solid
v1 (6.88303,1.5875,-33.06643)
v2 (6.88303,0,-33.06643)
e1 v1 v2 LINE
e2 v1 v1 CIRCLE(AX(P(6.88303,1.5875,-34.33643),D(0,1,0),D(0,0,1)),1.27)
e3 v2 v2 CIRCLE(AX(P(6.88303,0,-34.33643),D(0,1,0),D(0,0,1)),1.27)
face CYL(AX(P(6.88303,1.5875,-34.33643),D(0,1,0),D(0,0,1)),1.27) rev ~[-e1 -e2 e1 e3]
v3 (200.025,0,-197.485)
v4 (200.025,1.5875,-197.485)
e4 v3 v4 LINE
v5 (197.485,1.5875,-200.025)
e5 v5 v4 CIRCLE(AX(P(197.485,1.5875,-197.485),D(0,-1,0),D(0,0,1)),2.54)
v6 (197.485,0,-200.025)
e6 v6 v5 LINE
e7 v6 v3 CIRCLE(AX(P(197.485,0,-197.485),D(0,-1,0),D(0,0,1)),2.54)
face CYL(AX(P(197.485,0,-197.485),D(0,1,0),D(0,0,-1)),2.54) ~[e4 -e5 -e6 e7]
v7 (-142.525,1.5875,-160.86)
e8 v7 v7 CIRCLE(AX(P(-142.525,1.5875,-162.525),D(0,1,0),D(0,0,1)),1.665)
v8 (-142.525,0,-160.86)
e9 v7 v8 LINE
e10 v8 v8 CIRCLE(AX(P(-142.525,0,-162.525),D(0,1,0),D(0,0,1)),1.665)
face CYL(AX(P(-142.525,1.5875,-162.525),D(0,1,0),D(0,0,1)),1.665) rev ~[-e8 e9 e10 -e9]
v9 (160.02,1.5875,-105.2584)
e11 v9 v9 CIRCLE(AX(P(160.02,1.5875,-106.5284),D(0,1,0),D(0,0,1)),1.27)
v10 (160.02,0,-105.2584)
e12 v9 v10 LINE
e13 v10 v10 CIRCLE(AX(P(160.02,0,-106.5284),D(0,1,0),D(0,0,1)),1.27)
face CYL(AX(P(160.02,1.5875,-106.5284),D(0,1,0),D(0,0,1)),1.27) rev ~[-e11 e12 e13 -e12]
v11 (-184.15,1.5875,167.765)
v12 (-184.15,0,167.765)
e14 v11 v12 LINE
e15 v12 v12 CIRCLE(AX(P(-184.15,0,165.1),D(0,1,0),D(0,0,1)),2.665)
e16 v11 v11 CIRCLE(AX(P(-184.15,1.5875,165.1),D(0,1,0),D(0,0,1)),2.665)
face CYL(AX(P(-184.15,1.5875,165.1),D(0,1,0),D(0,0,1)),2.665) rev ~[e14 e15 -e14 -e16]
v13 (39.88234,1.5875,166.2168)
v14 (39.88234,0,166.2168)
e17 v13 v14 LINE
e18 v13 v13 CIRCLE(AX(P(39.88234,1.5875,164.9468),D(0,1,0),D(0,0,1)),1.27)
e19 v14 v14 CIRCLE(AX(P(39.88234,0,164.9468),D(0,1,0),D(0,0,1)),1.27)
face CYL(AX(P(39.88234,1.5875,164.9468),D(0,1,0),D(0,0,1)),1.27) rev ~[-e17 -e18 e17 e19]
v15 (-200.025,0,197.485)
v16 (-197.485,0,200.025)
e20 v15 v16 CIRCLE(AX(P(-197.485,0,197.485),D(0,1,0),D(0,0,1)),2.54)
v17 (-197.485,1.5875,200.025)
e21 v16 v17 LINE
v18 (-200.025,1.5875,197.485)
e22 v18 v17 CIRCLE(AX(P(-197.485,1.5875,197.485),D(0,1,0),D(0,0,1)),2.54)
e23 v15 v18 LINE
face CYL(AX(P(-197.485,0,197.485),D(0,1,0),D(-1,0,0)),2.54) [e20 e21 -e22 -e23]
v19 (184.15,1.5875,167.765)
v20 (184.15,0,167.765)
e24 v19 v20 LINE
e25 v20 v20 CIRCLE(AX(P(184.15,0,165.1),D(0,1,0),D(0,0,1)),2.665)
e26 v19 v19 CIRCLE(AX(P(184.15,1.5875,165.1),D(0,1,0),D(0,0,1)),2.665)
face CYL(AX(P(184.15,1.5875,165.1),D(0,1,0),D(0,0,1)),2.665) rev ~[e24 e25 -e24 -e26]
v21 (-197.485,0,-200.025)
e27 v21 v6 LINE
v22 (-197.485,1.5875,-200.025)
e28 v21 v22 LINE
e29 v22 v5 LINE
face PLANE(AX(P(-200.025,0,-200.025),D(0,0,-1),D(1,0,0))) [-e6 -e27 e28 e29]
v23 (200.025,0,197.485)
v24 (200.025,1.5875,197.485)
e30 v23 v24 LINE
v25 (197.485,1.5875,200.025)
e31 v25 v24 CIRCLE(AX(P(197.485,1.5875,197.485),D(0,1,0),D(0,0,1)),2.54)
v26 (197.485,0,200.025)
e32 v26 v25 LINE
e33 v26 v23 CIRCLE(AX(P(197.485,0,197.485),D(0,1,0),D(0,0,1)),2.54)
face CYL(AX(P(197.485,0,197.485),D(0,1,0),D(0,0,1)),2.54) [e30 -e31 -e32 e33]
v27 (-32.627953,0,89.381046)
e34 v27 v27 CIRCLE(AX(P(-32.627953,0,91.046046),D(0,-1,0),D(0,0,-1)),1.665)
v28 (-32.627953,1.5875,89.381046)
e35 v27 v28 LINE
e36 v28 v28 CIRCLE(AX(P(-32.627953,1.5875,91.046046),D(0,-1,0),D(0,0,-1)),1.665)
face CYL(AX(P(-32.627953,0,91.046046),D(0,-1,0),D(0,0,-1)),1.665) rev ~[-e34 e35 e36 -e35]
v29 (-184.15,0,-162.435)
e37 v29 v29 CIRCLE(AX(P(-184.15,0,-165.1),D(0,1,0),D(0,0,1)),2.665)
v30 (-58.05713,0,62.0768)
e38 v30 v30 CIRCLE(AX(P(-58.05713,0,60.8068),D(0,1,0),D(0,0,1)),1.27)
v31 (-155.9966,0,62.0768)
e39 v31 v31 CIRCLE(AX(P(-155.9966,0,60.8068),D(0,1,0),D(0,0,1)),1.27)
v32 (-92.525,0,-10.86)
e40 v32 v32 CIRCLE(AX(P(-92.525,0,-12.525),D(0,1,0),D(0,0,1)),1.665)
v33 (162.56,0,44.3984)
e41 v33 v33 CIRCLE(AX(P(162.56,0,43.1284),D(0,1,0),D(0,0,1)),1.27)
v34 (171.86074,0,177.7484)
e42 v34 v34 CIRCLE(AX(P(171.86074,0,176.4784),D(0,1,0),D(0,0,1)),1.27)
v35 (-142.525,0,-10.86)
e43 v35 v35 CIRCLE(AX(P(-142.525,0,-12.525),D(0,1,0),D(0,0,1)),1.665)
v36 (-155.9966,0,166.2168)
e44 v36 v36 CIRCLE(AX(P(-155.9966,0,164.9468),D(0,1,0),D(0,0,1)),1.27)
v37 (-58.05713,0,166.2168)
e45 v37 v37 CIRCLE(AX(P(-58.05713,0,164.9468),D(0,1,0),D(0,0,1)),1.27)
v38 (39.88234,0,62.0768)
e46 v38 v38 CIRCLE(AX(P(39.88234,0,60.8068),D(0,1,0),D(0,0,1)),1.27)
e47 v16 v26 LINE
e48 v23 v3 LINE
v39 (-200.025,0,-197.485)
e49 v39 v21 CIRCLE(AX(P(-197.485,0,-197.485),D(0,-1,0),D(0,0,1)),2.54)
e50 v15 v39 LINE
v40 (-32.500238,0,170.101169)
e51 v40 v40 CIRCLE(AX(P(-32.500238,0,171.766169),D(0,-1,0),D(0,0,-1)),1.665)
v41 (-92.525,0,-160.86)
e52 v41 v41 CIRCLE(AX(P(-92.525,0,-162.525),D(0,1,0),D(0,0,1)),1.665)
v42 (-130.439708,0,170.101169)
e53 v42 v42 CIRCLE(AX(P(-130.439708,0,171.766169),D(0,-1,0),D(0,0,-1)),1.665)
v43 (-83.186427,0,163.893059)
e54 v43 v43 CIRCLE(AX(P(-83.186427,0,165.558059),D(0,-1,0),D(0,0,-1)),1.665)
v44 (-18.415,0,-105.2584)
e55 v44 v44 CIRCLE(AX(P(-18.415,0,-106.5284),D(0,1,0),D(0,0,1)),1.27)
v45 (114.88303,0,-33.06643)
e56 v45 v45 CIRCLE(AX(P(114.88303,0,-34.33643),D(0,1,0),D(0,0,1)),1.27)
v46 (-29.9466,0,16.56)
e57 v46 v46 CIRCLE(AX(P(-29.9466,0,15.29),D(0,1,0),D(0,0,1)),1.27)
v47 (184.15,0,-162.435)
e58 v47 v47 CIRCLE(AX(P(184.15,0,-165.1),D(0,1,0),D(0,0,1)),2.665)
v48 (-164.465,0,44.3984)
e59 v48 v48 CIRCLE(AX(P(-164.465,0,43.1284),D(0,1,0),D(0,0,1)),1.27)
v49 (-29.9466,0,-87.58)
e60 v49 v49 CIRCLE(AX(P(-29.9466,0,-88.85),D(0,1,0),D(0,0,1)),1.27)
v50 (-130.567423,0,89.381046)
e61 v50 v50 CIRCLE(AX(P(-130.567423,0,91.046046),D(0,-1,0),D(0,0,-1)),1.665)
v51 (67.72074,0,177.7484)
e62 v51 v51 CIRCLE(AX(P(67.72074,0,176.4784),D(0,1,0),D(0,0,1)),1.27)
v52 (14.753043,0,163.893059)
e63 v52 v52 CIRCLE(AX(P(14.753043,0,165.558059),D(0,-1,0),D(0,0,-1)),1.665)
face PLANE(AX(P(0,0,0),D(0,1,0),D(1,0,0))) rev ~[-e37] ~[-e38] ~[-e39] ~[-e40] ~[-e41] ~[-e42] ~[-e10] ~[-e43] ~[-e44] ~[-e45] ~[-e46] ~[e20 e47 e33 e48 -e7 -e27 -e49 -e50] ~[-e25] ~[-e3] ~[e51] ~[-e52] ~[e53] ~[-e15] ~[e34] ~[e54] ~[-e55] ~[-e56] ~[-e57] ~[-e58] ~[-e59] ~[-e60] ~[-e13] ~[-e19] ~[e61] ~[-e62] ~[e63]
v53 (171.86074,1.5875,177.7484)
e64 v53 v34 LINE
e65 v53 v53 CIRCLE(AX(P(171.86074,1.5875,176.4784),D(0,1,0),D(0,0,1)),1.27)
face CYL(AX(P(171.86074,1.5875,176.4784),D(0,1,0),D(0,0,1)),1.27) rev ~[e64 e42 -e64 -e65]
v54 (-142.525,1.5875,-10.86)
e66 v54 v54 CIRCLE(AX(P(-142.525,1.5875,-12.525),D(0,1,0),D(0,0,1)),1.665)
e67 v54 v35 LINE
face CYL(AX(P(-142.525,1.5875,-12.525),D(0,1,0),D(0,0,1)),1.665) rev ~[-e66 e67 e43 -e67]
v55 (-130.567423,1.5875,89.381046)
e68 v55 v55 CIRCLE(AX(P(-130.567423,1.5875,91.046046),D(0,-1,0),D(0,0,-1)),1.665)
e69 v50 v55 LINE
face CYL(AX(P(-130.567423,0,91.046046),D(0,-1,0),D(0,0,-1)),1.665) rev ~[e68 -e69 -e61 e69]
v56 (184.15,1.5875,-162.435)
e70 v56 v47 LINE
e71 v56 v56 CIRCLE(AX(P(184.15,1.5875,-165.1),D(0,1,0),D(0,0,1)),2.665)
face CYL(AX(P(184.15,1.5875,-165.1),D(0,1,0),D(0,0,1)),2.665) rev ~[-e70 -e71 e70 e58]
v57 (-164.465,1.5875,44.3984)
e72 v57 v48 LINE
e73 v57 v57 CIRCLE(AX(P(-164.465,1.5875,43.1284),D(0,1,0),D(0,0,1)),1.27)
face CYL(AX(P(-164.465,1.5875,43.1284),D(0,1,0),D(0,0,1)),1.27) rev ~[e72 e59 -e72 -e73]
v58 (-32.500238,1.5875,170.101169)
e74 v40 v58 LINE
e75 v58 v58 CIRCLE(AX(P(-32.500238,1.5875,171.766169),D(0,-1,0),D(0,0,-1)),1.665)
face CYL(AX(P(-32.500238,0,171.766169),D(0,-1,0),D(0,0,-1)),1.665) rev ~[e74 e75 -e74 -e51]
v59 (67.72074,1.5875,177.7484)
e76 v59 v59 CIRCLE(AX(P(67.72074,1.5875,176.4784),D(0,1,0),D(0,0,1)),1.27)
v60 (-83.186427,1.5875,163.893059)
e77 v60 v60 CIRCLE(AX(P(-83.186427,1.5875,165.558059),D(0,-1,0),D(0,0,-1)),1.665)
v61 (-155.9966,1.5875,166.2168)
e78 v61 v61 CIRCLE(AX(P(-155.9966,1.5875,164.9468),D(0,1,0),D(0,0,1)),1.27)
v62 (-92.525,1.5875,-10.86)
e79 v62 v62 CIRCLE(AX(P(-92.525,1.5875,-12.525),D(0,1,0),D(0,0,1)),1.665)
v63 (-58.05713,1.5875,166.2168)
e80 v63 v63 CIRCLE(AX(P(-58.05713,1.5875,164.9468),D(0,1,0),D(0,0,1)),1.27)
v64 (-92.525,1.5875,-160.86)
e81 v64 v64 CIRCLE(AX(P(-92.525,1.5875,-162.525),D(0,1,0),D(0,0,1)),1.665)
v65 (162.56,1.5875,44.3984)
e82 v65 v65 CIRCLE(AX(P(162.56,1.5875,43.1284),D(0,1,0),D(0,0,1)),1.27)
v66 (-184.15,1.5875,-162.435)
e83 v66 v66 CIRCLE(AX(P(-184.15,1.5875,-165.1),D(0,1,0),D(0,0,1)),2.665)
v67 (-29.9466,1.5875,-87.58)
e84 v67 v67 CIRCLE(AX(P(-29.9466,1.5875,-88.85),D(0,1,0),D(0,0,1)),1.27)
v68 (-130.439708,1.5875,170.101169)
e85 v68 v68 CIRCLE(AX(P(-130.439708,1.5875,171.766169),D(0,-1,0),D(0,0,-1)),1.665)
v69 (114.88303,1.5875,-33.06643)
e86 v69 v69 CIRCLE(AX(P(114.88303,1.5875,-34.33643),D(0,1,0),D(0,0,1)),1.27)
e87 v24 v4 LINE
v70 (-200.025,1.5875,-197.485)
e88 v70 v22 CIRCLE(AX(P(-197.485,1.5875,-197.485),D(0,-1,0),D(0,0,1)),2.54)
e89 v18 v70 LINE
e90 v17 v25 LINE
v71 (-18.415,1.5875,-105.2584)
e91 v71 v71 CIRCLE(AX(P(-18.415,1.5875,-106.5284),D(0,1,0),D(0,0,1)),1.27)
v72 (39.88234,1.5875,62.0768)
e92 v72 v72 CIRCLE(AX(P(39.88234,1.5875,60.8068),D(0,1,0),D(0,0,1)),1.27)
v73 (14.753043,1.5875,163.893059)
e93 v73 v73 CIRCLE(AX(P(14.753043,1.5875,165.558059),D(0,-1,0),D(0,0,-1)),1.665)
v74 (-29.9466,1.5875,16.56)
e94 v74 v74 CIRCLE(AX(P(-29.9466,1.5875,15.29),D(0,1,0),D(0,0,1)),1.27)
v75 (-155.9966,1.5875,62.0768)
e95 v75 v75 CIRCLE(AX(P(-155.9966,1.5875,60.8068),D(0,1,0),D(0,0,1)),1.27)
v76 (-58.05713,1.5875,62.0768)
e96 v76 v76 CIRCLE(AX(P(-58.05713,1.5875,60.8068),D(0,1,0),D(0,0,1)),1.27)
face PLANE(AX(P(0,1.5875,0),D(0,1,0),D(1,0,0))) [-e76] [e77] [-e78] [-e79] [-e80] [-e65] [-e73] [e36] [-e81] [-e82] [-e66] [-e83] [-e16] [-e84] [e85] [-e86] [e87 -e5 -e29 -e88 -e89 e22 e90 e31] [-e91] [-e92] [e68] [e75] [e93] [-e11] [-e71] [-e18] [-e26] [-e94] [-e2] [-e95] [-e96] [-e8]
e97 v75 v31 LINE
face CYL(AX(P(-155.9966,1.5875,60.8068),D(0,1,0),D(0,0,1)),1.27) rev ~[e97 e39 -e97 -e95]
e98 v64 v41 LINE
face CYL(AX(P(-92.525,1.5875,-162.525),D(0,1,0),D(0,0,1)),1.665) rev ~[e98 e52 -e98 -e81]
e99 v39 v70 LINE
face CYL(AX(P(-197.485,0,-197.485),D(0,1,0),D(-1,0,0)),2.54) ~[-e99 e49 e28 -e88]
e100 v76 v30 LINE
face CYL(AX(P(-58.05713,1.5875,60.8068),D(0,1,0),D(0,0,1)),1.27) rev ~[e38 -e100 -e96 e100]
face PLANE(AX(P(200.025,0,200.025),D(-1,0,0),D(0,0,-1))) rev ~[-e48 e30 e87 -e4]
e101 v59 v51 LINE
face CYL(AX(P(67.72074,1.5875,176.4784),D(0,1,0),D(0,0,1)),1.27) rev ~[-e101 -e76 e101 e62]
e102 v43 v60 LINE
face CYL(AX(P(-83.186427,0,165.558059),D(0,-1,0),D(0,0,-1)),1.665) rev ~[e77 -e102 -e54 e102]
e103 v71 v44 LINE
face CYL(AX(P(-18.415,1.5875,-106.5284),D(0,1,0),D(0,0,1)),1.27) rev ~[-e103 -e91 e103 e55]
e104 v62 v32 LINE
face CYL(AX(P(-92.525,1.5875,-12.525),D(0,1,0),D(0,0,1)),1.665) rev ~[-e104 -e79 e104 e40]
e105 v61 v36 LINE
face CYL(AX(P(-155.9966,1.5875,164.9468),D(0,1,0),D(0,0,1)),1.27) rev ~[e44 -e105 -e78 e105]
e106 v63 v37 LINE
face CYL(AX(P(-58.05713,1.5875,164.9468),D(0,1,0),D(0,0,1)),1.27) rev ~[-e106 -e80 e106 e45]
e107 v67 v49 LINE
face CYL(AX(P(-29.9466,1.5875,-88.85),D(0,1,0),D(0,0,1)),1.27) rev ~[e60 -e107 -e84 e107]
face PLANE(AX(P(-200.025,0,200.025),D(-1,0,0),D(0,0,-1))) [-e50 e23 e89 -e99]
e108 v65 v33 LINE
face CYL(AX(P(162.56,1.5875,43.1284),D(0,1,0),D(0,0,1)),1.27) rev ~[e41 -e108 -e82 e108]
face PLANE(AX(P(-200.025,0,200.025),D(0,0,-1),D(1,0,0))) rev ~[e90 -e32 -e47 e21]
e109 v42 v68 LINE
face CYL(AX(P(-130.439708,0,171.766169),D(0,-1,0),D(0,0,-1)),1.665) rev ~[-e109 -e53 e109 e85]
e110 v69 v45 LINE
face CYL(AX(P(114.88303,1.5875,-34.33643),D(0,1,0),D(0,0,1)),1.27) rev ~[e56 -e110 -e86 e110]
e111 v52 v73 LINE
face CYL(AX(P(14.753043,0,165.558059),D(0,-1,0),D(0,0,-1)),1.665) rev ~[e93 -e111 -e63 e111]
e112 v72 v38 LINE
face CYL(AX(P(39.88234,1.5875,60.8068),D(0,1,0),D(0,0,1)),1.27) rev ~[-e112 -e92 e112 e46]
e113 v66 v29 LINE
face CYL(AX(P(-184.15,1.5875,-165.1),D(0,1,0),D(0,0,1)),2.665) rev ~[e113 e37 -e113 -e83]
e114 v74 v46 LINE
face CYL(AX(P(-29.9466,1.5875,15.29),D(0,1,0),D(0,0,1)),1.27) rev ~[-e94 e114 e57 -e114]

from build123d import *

# Parameters (mm, degrees)
SKETCH1_W           = 400.05
SKETCH1_H           = 400.05
BOSS_EXTRUDE1_DEPTH = 1.5875
CUT_EXTRUDE1_REACH  = 284.883
SKETCH2_R           = 2.665
FILLET1_R           = 2.54
CUT_EXTRUDE2_REACH  = 284.883
SKETCH3_R           = 1.665
CUT_EXTRUDE3_REACH  = 284.883
SKETCH4_R           = 1.665
CUT_EXTRUDE4_REACH  = 284.883
SKETCH5_R           = 1.27


with BuildPart() as part:
    # Sketch1 → Boss-Extrude1 (new body)
    with BuildSketch(Plane(origin=(0, 0, 0), x_dir=(1, 0, 0), z_dir=(0, 1, 0))):
        Rectangle(SKETCH1_W, SKETCH1_H)
    extrude(amount=BOSS_EXTRUDE1_DEPTH)

    # Sketch2 → Cut-Extrude1 (cut, up to next)
    with BuildSketch(Plane(origin=(0, 1.5875, 0), x_dir=(1, 0, 0), z_dir=(0, 1, 0)), mode=Mode.PRIVATE) as cut_extrude1_sk1:
        with Locations(Location((-184.15, -165.1, 0), (0, 0, 270))):
            Circle(SKETCH2_R)
    cut_extrude1_tool1 = extrude(cut_extrude1_sk1.sketch, amount=-CUT_EXTRUDE1_REACH, mode=Mode.PRIVATE) & part.part
    # Sketch2 → Cut-Extrude1 (cut, up to next)
    with BuildSketch(Plane(origin=(0, 1.5875, 0), x_dir=(1, 0, 0), z_dir=(0, 1, 0)), mode=Mode.PRIVATE) as cut_extrude1_sk2:
        with Locations(Location((184.15, -165.1, 0), (0, 0, 270))):
            Circle(SKETCH2_R)
    cut_extrude1_tool2 = extrude(cut_extrude1_sk2.sketch, amount=-CUT_EXTRUDE1_REACH, mode=Mode.PRIVATE) & part.part
    # Sketch2 → Cut-Extrude1 (cut, up to next)
    with BuildSketch(Plane(origin=(0, 1.5875, 0), x_dir=(1, 0, 0), z_dir=(0, 1, 0)), mode=Mode.PRIVATE) as cut_extrude1_sk3:
        with Locations(Location((184.15, 165.1, 0), (0, 0, 270))):
            Circle(SKETCH2_R)
    cut_extrude1_tool3 = extrude(cut_extrude1_sk3.sketch, amount=-CUT_EXTRUDE1_REACH, mode=Mode.PRIVATE) & part.part
    # Sketch2 → Cut-Extrude1 (cut, up to next)
    with BuildSketch(Plane(origin=(0, 1.5875, 0), x_dir=(1, 0, 0), z_dir=(0, 1, 0)), mode=Mode.PRIVATE) as cut_extrude1_sk4:
        with Locations(Location((-184.15, 165.1, 0), (0, 0, 270))):
            Circle(SKETCH2_R)
    cut_extrude1_tool4 = extrude(cut_extrude1_sk4.sketch, amount=-CUT_EXTRUDE1_REACH, mode=Mode.PRIVATE) & part.part
    add(cut_extrude1_tool1.solids().sort_by_distance((-184.15, 1.5875, 165.1))[0], mode=Mode.SUBTRACT)
    add(cut_extrude1_tool2.solids().sort_by_distance((184.15, 1.5875, 165.1))[0], mode=Mode.SUBTRACT)
    add(cut_extrude1_tool3.solids().sort_by_distance((184.15, 1.5875, -165.1))[0], mode=Mode.SUBTRACT)
    add(cut_extrude1_tool4.solids().sort_by_distance((-184.15, 1.5875, -165.1))[0], mode=Mode.SUBTRACT)

    # Fillet1
    fillet1_edges = [part.edges().sort_by_distance(p)[0] for p in [
        (200.025, 0.79375, 200.025),
        (-200.025, 0.79375, 200.025),
        (-200.025, 0.79375, -200.025),
        (200.025, 0.79375, -200.025),
    ]]
    fillet(fillet1_edges, radius=FILLET1_R)

    # Sketch3 → Cut-Extrude2 (cut, up to next)
    with BuildSketch(Plane.XZ, mode=Mode.PRIVATE) as cut_extrude2_sk1:
        with Locations(Location((-130.439708106, 171.766169153, 0), (0, 0, 270))):
            Circle(SKETCH3_R)
    cut_extrude2_tool1 = extrude(cut_extrude2_sk1.sketch, amount=-CUT_EXTRUDE2_REACH, mode=Mode.PRIVATE) & part.part
    # Sketch3 → Cut-Extrude2 (cut, up to next)
    with BuildSketch(Plane.XZ, mode=Mode.PRIVATE) as cut_extrude2_sk2:
        with Locations(Location((-83.186426808, 165.558058797, 0), (0, 0, 270))):
            Circle(SKETCH3_R)
    cut_extrude2_tool2 = extrude(cut_extrude2_sk2.sketch, amount=-CUT_EXTRUDE2_REACH, mode=Mode.PRIVATE) & part.part
    # Sketch3 → Cut-Extrude2 (cut, up to next)
    with BuildSketch(Plane.XZ, mode=Mode.PRIVATE) as cut_extrude2_sk3:
        with Locations(Location((-130.567422903, 91.046045503, 0), (0, 0, 270))):
            Circle(SKETCH3_R)
    cut_extrude2_tool3 = extrude(cut_extrude2_sk3.sketch, amount=-CUT_EXTRUDE2_REACH, mode=Mode.PRIVATE) & part.part
    # Sketch3 → Cut-Extrude2 (cut, up to next)
    with BuildSketch(Plane.XZ, mode=Mode.PRIVATE) as cut_extrude2_sk4:
        with Locations(Location((-32.50023816, 171.766169153, 0), (0, 0, 270))):
            Circle(SKETCH3_R)
    cut_extrude2_tool4 = extrude(cut_extrude2_sk4.sketch, amount=-CUT_EXTRUDE2_REACH, mode=Mode.PRIVATE) & part.part
    # Sketch3 → Cut-Extrude2 (cut, up to next)
    with BuildSketch(Plane.XZ, mode=Mode.PRIVATE) as cut_extrude2_sk5:
        with Locations(Location((14.753043138, 165.558058797, 0), (0, 0, 270))):
            Circle(SKETCH3_R)
    cut_extrude2_tool5 = extrude(cut_extrude2_sk5.sketch, amount=-CUT_EXTRUDE2_REACH, mode=Mode.PRIVATE) & part.part
    # Sketch3 → Cut-Extrude2 (cut, up to next)
    with BuildSketch(Plane.XZ, mode=Mode.PRIVATE) as cut_extrude2_sk6:
        with Locations(Location((-32.627952956, 91.046045503, 0), (0, 0, 270))):
            Circle(SKETCH3_R)
    cut_extrude2_tool6 = extrude(cut_extrude2_sk6.sketch, amount=-CUT_EXTRUDE2_REACH, mode=Mode.PRIVATE) & part.part
    add(cut_extrude2_tool1.solids().sort_by_distance((-130.439708, 0, 171.766169))[0], mode=Mode.SUBTRACT)
    add(cut_extrude2_tool2.solids().sort_by_distance((-83.186427, 0, 165.558059))[0], mode=Mode.SUBTRACT)
    add(cut_extrude2_tool3.solids().sort_by_distance((-130.567423, 0, 91.046046))[0], mode=Mode.SUBTRACT)
    add(cut_extrude2_tool4.solids().sort_by_distance((-32.500238, 0, 171.766169))[0], mode=Mode.SUBTRACT)
    add(cut_extrude2_tool5.solids().sort_by_distance((14.753043, 0, 165.558059))[0], mode=Mode.SUBTRACT)
    add(cut_extrude2_tool6.solids().sort_by_distance((-32.627953, 0, 91.046046))[0], mode=Mode.SUBTRACT)

    # Sketch4 → Cut-Extrude3 (cut, up to next)
    with BuildSketch(Plane(origin=(0, 1.5875, 0), x_dir=(1, 0, 0), z_dir=(0, 1, 0)), mode=Mode.PRIVATE) as cut_extrude3_sk1:
        with Locations(Location((-142.525, 162.525, 0), (0, 0, 270))):
            Circle(SKETCH4_R)
    cut_extrude3_tool1 = extrude(cut_extrude3_sk1.sketch, amount=-CUT_EXTRUDE3_REACH, mode=Mode.PRIVATE) & part.part
    # Sketch4 → Cut-Extrude3 (cut, up to next)
    with BuildSketch(Plane(origin=(0, 1.5875, 0), x_dir=(1, 0, 0), z_dir=(0, 1, 0)), mode=Mode.PRIVATE) as cut_extrude3_sk2:
        with Locations(Location((-92.525, 162.525, 0), (0, 0, 270))):
            Circle(SKETCH4_R)
    cut_extrude3_tool2 = extrude(cut_extrude3_sk2.sketch, amount=-CUT_EXTRUDE3_REACH, mode=Mode.PRIVATE) & part.part
    # Sketch4 → Cut-Extrude3 (cut, up to next)
    with BuildSketch(Plane(origin=(0, 1.5875, 0), x_dir=(1, 0, 0), z_dir=(0, 1, 0)), mode=Mode.PRIVATE) as cut_extrude3_sk3:
        with Locations(Location((-92.525, 12.525, 0), (0, 0, 270))):
            Circle(SKETCH4_R)
    cut_extrude3_tool3 = extrude(cut_extrude3_sk3.sketch, amount=-CUT_EXTRUDE3_REACH, mode=Mode.PRIVATE) & part.part
    # Sketch4 → Cut-Extrude3 (cut, up to next)
    with BuildSketch(Plane(origin=(0, 1.5875, 0), x_dir=(1, 0, 0), z_dir=(0, 1, 0)), mode=Mode.PRIVATE) as cut_extrude3_sk4:
        with Locations(Location((-142.525, 12.525, 0), (0, 0, 270))):
            Circle(SKETCH4_R)
    cut_extrude3_tool4 = extrude(cut_extrude3_sk4.sketch, amount=-CUT_EXTRUDE3_REACH, mode=Mode.PRIVATE) & part.part
    add(cut_extrude3_tool1.solids().sort_by_distance((-142.525, 1.5875, -162.525))[0], mode=Mode.SUBTRACT)
    add(cut_extrude3_tool2.solids().sort_by_distance((-92.525, 1.5875, -162.525))[0], mode=Mode.SUBTRACT)
    add(cut_extrude3_tool3.solids().sort_by_distance((-92.525, 1.5875, -12.525))[0], mode=Mode.SUBTRACT)
    add(cut_extrude3_tool4.solids().sort_by_distance((-142.525, 1.5875, -12.525))[0], mode=Mode.SUBTRACT)

    # Sketch5 → Cut-Extrude4 (cut, up to next)
    with BuildSketch(Plane(origin=(0, 1.5875, 0), x_dir=(1, 0, 0), z_dir=(0, 1, 0)), mode=Mode.PRIVATE) as cut_extrude4_sk1:
        with Locations(Location((114.883029897, 34.336429963, 0), (0, 0, 270))):
            Circle(SKETCH5_R)
    cut_extrude4_tool1 = extrude(cut_extrude4_sk1.sketch, amount=-CUT_EXTRUDE4_REACH, mode=Mode.PRIVATE) & part.part
    # Sketch5 → Cut-Extrude4 (cut, up to next)
    with BuildSketch(Plane(origin=(0, 1.5875, 0), x_dir=(1, 0, 0), z_dir=(0, 1, 0)), mode=Mode.PRIVATE) as cut_extrude4_sk2:
        with Locations(Location((160.02, 106.5284, 0), (0, 0, 270))):
            Circle(SKETCH5_R)
    cut_extrude4_tool2 = extrude(cut_extrude4_sk2.sketch, amount=-CUT_EXTRUDE4_REACH, mode=Mode.PRIVATE) & part.part
    # Sketch5 → Cut-Extrude4 (cut, up to next)
    with BuildSketch(Plane(origin=(0, 1.5875, 0), x_dir=(1, 0, 0), z_dir=(0, 1, 0)), mode=Mode.PRIVATE) as cut_extrude4_sk3:
        with Locations(Location((-18.415, 106.5284, 0), (0, 0, 270))):
            Circle(SKETCH5_R)
    cut_extrude4_tool3 = extrude(cut_extrude4_sk3.sketch, amount=-CUT_EXTRUDE4_REACH, mode=Mode.PRIVATE) & part.part
    # Sketch5 → Cut-Extrude4 (cut, up to next)
    with BuildSketch(Plane(origin=(0, 1.5875, 0), x_dir=(1, 0, 0), z_dir=(0, 1, 0)), mode=Mode.PRIVATE) as cut_extrude4_sk4:
        with Locations(Location((-29.9466, 88.85, 0), (0, 0, 270))):
            Circle(SKETCH5_R)
    cut_extrude4_tool4 = extrude(cut_extrude4_sk4.sketch, amount=-CUT_EXTRUDE4_REACH, mode=Mode.PRIVATE) & part.part
    # Sketch5 → Cut-Extrude4 (cut, up to next)
    with BuildSketch(Plane(origin=(0, 1.5875, 0), x_dir=(1, 0, 0), z_dir=(0, 1, 0)), mode=Mode.PRIVATE) as cut_extrude4_sk5:
        with Locations(Location((-29.9466, -15.29, 0), (0, 0, 270))):
            Circle(SKETCH5_R)
    cut_extrude4_tool5 = extrude(cut_extrude4_sk5.sketch, amount=-CUT_EXTRUDE4_REACH, mode=Mode.PRIVATE) & part.part
    # Sketch5 → Cut-Extrude4 (cut, up to next)
    with BuildSketch(Plane(origin=(0, 1.5875, 0), x_dir=(1, 0, 0), z_dir=(0, 1, 0)), mode=Mode.PRIVATE) as cut_extrude4_sk6:
        with Locations(Location((6.883029897, 34.336429963, 0), (0, 0, 270))):
            Circle(SKETCH5_R)
    cut_extrude4_tool6 = extrude(cut_extrude4_sk6.sketch, amount=-CUT_EXTRUDE4_REACH, mode=Mode.PRIVATE) & part.part
    # Sketch5 → Cut-Extrude4 (cut, up to next)
    with BuildSketch(Plane(origin=(0, 1.5875, 0), x_dir=(1, 0, 0), z_dir=(0, 1, 0)), mode=Mode.PRIVATE) as cut_extrude4_sk7:
        with Locations(Location((-164.465, -43.1284, 0), (0, 0, 270))):
            Circle(SKETCH5_R)
    cut_extrude4_tool7 = extrude(cut_extrude4_sk7.sketch, amount=-CUT_EXTRUDE4_REACH, mode=Mode.PRIVATE) & part.part
    # Sketch5 → Cut-Extrude4 (cut, up to next)
    with BuildSketch(Plane(origin=(0, 1.5875, 0), x_dir=(1, 0, 0), z_dir=(0, 1, 0)), mode=Mode.PRIVATE) as cut_extrude4_sk8:
        with Locations(Location((-155.9966, -60.8068, 0), (0, 0, 270))):
            Circle(SKETCH5_R)
    cut_extrude4_tool8 = extrude(cut_extrude4_sk8.sketch, amount=-CUT_EXTRUDE4_REACH, mode=Mode.PRIVATE) & part.part
    # Sketch5 → Cut-Extrude4 (cut, up to next)
    with BuildSketch(Plane(origin=(0, 1.5875, 0), x_dir=(1, 0, 0), z_dir=(0, 1, 0)), mode=Mode.PRIVATE) as cut_extrude4_sk9:
        with Locations(Location((-155.9966, -164.9468, 0), (0, 0, 270))):
            Circle(SKETCH5_R)
    cut_extrude4_tool9 = extrude(cut_extrude4_sk9.sketch, amount=-CUT_EXTRUDE4_REACH, mode=Mode.PRIVATE) & part.part
    # Sketch5 → Cut-Extrude4 (cut, up to next)
    with BuildSketch(Plane(origin=(0, 1.5875, 0), x_dir=(1, 0, 0), z_dir=(0, 1, 0)), mode=Mode.PRIVATE) as cut_extrude4_sk10:
        with Locations(Location((-58.057130054, -164.9468, 0), (0, 0, 270))):
            Circle(SKETCH5_R)
    cut_extrude4_tool10 = extrude(cut_extrude4_sk10.sketch, amount=-CUT_EXTRUDE4_REACH, mode=Mode.PRIVATE) & part.part
    # Sketch5 → Cut-Extrude4 (cut, up to next)
    with BuildSketch(Plane(origin=(0, 1.5875, 0), x_dir=(1, 0, 0), z_dir=(0, 1, 0)), mode=Mode.PRIVATE) as cut_extrude4_sk11:
        with Locations(Location((39.882339893, -164.9468, 0), (0, 0, 270))):
            Circle(SKETCH5_R)
    cut_extrude4_tool11 = extrude(cut_extrude4_sk11.sketch, amount=-CUT_EXTRUDE4_REACH, mode=Mode.PRIVATE) & part.part
    # Sketch5 → Cut-Extrude4 (cut, up to next)
    with BuildSketch(Plane(origin=(0, 1.5875, 0), x_dir=(1, 0, 0), z_dir=(0, 1, 0)), mode=Mode.PRIVATE) as cut_extrude4_sk12:
        with Locations(Location((67.720739893, -176.4784, 0), (0, 0, 270))):
            Circle(SKETCH5_R)
    cut_extrude4_tool12 = extrude(cut_extrude4_sk12.sketch, amount=-CUT_EXTRUDE4_REACH, mode=Mode.PRIVATE) & part.part
    # Sketch5 → Cut-Extrude4 (cut, up to next)
    with BuildSketch(Plane(origin=(0, 1.5875, 0), x_dir=(1, 0, 0), z_dir=(0, 1, 0)), mode=Mode.PRIVATE) as cut_extrude4_sk13:
        with Locations(Location((171.860739893, -176.4784, 0), (0, 0, 270))):
            Circle(SKETCH5_R)
    cut_extrude4_tool13 = extrude(cut_extrude4_sk13.sketch, amount=-CUT_EXTRUDE4_REACH, mode=Mode.PRIVATE) & part.part
    # Sketch5 → Cut-Extrude4 (cut, up to next)
    with BuildSketch(Plane(origin=(0, 1.5875, 0), x_dir=(1, 0, 0), z_dir=(0, 1, 0)), mode=Mode.PRIVATE) as cut_extrude4_sk14:
        with Locations(Location((39.882339893, -60.8068, 0), (0, 0, 270))):
            Circle(SKETCH5_R)
    cut_extrude4_tool14 = extrude(cut_extrude4_sk14.sketch, amount=-CUT_EXTRUDE4_REACH, mode=Mode.PRIVATE) & part.part
    # Sketch5 → Cut-Extrude4 (cut, up to next)
    with BuildSketch(Plane(origin=(0, 1.5875, 0), x_dir=(1, 0, 0), z_dir=(0, 1, 0)), mode=Mode.PRIVATE) as cut_extrude4_sk15:
        with Locations(Location((-58.057130054, -60.8068, 0), (0, 0, 270))):
            Circle(SKETCH5_R)
    cut_extrude4_tool15 = extrude(cut_extrude4_sk15.sketch, amount=-CUT_EXTRUDE4_REACH, mode=Mode.PRIVATE) & part.part
    # Sketch5 → Cut-Extrude4 (cut, up to next)
    with BuildSketch(Plane(origin=(0, 1.5875, 0), x_dir=(1, 0, 0), z_dir=(0, 1, 0)), mode=Mode.PRIVATE) as cut_extrude4_sk16:
        with Locations(Location((162.56, -43.1284, 0), (0, 0, 270))):
            Circle(SKETCH5_R)
    cut_extrude4_tool16 = extrude(cut_extrude4_sk16.sketch, amount=-CUT_EXTRUDE4_REACH, mode=Mode.PRIVATE) & part.part
    add(cut_extrude4_tool1.solids().sort_by_distance((114.88303, 1.5875, -34.33643))[0], mode=Mode.SUBTRACT)
    add(cut_extrude4_tool2.solids().sort_by_distance((160.02, 1.5875, -106.5284))[0], mode=Mode.SUBTRACT)
    add(cut_extrude4_tool3.solids().sort_by_distance((-18.415, 1.5875, -106.5284))[0], mode=Mode.SUBTRACT)
    add(cut_extrude4_tool4.solids().sort_by_distance((-29.9466, 1.5875, -88.85))[0], mode=Mode.SUBTRACT)
    add(cut_extrude4_tool5.solids().sort_by_distance((-29.9466, 1.5875, 15.29))[0], mode=Mode.SUBTRACT)
    add(cut_extrude4_tool6.solids().sort_by_distance((6.88303, 1.5875, -34.33643))[0], mode=Mode.SUBTRACT)
    add(cut_extrude4_tool7.solids().sort_by_distance((-164.465, 1.5875, 43.1284))[0], mode=Mode.SUBTRACT)
    add(cut_extrude4_tool8.solids().sort_by_distance((-155.9966, 1.5875, 60.8068))[0], mode=Mode.SUBTRACT)
    add(cut_extrude4_tool9.solids().sort_by_distance((-155.9966, 1.5875, 164.9468))[0], mode=Mode.SUBTRACT)
    add(cut_extrude4_tool10.solids().sort_by_distance((-58.05713, 1.5875, 164.9468))[0], mode=Mode.SUBTRACT)
    add(cut_extrude4_tool11.solids().sort_by_distance((39.88234, 1.5875, 164.9468))[0], mode=Mode.SUBTRACT)
    add(cut_extrude4_tool12.solids().sort_by_distance((67.72074, 1.5875, 176.4784))[0], mode=Mode.SUBTRACT)
    add(cut_extrude4_tool13.solids().sort_by_distance((171.86074, 1.5875, 176.4784))[0], mode=Mode.SUBTRACT)
    add(cut_extrude4_tool14.solids().sort_by_distance((39.88234, 1.5875, 60.8068))[0], mode=Mode.SUBTRACT)
    add(cut_extrude4_tool15.solids().sort_by_distance((-58.05713, 1.5875, 60.8068))[0], mode=Mode.SUBTRACT)
    add(cut_extrude4_tool16.solids().sort_by_distance((162.56, 1.5875, 43.1284))[0], mode=Mode.SUBTRACT)


solid = part.part
